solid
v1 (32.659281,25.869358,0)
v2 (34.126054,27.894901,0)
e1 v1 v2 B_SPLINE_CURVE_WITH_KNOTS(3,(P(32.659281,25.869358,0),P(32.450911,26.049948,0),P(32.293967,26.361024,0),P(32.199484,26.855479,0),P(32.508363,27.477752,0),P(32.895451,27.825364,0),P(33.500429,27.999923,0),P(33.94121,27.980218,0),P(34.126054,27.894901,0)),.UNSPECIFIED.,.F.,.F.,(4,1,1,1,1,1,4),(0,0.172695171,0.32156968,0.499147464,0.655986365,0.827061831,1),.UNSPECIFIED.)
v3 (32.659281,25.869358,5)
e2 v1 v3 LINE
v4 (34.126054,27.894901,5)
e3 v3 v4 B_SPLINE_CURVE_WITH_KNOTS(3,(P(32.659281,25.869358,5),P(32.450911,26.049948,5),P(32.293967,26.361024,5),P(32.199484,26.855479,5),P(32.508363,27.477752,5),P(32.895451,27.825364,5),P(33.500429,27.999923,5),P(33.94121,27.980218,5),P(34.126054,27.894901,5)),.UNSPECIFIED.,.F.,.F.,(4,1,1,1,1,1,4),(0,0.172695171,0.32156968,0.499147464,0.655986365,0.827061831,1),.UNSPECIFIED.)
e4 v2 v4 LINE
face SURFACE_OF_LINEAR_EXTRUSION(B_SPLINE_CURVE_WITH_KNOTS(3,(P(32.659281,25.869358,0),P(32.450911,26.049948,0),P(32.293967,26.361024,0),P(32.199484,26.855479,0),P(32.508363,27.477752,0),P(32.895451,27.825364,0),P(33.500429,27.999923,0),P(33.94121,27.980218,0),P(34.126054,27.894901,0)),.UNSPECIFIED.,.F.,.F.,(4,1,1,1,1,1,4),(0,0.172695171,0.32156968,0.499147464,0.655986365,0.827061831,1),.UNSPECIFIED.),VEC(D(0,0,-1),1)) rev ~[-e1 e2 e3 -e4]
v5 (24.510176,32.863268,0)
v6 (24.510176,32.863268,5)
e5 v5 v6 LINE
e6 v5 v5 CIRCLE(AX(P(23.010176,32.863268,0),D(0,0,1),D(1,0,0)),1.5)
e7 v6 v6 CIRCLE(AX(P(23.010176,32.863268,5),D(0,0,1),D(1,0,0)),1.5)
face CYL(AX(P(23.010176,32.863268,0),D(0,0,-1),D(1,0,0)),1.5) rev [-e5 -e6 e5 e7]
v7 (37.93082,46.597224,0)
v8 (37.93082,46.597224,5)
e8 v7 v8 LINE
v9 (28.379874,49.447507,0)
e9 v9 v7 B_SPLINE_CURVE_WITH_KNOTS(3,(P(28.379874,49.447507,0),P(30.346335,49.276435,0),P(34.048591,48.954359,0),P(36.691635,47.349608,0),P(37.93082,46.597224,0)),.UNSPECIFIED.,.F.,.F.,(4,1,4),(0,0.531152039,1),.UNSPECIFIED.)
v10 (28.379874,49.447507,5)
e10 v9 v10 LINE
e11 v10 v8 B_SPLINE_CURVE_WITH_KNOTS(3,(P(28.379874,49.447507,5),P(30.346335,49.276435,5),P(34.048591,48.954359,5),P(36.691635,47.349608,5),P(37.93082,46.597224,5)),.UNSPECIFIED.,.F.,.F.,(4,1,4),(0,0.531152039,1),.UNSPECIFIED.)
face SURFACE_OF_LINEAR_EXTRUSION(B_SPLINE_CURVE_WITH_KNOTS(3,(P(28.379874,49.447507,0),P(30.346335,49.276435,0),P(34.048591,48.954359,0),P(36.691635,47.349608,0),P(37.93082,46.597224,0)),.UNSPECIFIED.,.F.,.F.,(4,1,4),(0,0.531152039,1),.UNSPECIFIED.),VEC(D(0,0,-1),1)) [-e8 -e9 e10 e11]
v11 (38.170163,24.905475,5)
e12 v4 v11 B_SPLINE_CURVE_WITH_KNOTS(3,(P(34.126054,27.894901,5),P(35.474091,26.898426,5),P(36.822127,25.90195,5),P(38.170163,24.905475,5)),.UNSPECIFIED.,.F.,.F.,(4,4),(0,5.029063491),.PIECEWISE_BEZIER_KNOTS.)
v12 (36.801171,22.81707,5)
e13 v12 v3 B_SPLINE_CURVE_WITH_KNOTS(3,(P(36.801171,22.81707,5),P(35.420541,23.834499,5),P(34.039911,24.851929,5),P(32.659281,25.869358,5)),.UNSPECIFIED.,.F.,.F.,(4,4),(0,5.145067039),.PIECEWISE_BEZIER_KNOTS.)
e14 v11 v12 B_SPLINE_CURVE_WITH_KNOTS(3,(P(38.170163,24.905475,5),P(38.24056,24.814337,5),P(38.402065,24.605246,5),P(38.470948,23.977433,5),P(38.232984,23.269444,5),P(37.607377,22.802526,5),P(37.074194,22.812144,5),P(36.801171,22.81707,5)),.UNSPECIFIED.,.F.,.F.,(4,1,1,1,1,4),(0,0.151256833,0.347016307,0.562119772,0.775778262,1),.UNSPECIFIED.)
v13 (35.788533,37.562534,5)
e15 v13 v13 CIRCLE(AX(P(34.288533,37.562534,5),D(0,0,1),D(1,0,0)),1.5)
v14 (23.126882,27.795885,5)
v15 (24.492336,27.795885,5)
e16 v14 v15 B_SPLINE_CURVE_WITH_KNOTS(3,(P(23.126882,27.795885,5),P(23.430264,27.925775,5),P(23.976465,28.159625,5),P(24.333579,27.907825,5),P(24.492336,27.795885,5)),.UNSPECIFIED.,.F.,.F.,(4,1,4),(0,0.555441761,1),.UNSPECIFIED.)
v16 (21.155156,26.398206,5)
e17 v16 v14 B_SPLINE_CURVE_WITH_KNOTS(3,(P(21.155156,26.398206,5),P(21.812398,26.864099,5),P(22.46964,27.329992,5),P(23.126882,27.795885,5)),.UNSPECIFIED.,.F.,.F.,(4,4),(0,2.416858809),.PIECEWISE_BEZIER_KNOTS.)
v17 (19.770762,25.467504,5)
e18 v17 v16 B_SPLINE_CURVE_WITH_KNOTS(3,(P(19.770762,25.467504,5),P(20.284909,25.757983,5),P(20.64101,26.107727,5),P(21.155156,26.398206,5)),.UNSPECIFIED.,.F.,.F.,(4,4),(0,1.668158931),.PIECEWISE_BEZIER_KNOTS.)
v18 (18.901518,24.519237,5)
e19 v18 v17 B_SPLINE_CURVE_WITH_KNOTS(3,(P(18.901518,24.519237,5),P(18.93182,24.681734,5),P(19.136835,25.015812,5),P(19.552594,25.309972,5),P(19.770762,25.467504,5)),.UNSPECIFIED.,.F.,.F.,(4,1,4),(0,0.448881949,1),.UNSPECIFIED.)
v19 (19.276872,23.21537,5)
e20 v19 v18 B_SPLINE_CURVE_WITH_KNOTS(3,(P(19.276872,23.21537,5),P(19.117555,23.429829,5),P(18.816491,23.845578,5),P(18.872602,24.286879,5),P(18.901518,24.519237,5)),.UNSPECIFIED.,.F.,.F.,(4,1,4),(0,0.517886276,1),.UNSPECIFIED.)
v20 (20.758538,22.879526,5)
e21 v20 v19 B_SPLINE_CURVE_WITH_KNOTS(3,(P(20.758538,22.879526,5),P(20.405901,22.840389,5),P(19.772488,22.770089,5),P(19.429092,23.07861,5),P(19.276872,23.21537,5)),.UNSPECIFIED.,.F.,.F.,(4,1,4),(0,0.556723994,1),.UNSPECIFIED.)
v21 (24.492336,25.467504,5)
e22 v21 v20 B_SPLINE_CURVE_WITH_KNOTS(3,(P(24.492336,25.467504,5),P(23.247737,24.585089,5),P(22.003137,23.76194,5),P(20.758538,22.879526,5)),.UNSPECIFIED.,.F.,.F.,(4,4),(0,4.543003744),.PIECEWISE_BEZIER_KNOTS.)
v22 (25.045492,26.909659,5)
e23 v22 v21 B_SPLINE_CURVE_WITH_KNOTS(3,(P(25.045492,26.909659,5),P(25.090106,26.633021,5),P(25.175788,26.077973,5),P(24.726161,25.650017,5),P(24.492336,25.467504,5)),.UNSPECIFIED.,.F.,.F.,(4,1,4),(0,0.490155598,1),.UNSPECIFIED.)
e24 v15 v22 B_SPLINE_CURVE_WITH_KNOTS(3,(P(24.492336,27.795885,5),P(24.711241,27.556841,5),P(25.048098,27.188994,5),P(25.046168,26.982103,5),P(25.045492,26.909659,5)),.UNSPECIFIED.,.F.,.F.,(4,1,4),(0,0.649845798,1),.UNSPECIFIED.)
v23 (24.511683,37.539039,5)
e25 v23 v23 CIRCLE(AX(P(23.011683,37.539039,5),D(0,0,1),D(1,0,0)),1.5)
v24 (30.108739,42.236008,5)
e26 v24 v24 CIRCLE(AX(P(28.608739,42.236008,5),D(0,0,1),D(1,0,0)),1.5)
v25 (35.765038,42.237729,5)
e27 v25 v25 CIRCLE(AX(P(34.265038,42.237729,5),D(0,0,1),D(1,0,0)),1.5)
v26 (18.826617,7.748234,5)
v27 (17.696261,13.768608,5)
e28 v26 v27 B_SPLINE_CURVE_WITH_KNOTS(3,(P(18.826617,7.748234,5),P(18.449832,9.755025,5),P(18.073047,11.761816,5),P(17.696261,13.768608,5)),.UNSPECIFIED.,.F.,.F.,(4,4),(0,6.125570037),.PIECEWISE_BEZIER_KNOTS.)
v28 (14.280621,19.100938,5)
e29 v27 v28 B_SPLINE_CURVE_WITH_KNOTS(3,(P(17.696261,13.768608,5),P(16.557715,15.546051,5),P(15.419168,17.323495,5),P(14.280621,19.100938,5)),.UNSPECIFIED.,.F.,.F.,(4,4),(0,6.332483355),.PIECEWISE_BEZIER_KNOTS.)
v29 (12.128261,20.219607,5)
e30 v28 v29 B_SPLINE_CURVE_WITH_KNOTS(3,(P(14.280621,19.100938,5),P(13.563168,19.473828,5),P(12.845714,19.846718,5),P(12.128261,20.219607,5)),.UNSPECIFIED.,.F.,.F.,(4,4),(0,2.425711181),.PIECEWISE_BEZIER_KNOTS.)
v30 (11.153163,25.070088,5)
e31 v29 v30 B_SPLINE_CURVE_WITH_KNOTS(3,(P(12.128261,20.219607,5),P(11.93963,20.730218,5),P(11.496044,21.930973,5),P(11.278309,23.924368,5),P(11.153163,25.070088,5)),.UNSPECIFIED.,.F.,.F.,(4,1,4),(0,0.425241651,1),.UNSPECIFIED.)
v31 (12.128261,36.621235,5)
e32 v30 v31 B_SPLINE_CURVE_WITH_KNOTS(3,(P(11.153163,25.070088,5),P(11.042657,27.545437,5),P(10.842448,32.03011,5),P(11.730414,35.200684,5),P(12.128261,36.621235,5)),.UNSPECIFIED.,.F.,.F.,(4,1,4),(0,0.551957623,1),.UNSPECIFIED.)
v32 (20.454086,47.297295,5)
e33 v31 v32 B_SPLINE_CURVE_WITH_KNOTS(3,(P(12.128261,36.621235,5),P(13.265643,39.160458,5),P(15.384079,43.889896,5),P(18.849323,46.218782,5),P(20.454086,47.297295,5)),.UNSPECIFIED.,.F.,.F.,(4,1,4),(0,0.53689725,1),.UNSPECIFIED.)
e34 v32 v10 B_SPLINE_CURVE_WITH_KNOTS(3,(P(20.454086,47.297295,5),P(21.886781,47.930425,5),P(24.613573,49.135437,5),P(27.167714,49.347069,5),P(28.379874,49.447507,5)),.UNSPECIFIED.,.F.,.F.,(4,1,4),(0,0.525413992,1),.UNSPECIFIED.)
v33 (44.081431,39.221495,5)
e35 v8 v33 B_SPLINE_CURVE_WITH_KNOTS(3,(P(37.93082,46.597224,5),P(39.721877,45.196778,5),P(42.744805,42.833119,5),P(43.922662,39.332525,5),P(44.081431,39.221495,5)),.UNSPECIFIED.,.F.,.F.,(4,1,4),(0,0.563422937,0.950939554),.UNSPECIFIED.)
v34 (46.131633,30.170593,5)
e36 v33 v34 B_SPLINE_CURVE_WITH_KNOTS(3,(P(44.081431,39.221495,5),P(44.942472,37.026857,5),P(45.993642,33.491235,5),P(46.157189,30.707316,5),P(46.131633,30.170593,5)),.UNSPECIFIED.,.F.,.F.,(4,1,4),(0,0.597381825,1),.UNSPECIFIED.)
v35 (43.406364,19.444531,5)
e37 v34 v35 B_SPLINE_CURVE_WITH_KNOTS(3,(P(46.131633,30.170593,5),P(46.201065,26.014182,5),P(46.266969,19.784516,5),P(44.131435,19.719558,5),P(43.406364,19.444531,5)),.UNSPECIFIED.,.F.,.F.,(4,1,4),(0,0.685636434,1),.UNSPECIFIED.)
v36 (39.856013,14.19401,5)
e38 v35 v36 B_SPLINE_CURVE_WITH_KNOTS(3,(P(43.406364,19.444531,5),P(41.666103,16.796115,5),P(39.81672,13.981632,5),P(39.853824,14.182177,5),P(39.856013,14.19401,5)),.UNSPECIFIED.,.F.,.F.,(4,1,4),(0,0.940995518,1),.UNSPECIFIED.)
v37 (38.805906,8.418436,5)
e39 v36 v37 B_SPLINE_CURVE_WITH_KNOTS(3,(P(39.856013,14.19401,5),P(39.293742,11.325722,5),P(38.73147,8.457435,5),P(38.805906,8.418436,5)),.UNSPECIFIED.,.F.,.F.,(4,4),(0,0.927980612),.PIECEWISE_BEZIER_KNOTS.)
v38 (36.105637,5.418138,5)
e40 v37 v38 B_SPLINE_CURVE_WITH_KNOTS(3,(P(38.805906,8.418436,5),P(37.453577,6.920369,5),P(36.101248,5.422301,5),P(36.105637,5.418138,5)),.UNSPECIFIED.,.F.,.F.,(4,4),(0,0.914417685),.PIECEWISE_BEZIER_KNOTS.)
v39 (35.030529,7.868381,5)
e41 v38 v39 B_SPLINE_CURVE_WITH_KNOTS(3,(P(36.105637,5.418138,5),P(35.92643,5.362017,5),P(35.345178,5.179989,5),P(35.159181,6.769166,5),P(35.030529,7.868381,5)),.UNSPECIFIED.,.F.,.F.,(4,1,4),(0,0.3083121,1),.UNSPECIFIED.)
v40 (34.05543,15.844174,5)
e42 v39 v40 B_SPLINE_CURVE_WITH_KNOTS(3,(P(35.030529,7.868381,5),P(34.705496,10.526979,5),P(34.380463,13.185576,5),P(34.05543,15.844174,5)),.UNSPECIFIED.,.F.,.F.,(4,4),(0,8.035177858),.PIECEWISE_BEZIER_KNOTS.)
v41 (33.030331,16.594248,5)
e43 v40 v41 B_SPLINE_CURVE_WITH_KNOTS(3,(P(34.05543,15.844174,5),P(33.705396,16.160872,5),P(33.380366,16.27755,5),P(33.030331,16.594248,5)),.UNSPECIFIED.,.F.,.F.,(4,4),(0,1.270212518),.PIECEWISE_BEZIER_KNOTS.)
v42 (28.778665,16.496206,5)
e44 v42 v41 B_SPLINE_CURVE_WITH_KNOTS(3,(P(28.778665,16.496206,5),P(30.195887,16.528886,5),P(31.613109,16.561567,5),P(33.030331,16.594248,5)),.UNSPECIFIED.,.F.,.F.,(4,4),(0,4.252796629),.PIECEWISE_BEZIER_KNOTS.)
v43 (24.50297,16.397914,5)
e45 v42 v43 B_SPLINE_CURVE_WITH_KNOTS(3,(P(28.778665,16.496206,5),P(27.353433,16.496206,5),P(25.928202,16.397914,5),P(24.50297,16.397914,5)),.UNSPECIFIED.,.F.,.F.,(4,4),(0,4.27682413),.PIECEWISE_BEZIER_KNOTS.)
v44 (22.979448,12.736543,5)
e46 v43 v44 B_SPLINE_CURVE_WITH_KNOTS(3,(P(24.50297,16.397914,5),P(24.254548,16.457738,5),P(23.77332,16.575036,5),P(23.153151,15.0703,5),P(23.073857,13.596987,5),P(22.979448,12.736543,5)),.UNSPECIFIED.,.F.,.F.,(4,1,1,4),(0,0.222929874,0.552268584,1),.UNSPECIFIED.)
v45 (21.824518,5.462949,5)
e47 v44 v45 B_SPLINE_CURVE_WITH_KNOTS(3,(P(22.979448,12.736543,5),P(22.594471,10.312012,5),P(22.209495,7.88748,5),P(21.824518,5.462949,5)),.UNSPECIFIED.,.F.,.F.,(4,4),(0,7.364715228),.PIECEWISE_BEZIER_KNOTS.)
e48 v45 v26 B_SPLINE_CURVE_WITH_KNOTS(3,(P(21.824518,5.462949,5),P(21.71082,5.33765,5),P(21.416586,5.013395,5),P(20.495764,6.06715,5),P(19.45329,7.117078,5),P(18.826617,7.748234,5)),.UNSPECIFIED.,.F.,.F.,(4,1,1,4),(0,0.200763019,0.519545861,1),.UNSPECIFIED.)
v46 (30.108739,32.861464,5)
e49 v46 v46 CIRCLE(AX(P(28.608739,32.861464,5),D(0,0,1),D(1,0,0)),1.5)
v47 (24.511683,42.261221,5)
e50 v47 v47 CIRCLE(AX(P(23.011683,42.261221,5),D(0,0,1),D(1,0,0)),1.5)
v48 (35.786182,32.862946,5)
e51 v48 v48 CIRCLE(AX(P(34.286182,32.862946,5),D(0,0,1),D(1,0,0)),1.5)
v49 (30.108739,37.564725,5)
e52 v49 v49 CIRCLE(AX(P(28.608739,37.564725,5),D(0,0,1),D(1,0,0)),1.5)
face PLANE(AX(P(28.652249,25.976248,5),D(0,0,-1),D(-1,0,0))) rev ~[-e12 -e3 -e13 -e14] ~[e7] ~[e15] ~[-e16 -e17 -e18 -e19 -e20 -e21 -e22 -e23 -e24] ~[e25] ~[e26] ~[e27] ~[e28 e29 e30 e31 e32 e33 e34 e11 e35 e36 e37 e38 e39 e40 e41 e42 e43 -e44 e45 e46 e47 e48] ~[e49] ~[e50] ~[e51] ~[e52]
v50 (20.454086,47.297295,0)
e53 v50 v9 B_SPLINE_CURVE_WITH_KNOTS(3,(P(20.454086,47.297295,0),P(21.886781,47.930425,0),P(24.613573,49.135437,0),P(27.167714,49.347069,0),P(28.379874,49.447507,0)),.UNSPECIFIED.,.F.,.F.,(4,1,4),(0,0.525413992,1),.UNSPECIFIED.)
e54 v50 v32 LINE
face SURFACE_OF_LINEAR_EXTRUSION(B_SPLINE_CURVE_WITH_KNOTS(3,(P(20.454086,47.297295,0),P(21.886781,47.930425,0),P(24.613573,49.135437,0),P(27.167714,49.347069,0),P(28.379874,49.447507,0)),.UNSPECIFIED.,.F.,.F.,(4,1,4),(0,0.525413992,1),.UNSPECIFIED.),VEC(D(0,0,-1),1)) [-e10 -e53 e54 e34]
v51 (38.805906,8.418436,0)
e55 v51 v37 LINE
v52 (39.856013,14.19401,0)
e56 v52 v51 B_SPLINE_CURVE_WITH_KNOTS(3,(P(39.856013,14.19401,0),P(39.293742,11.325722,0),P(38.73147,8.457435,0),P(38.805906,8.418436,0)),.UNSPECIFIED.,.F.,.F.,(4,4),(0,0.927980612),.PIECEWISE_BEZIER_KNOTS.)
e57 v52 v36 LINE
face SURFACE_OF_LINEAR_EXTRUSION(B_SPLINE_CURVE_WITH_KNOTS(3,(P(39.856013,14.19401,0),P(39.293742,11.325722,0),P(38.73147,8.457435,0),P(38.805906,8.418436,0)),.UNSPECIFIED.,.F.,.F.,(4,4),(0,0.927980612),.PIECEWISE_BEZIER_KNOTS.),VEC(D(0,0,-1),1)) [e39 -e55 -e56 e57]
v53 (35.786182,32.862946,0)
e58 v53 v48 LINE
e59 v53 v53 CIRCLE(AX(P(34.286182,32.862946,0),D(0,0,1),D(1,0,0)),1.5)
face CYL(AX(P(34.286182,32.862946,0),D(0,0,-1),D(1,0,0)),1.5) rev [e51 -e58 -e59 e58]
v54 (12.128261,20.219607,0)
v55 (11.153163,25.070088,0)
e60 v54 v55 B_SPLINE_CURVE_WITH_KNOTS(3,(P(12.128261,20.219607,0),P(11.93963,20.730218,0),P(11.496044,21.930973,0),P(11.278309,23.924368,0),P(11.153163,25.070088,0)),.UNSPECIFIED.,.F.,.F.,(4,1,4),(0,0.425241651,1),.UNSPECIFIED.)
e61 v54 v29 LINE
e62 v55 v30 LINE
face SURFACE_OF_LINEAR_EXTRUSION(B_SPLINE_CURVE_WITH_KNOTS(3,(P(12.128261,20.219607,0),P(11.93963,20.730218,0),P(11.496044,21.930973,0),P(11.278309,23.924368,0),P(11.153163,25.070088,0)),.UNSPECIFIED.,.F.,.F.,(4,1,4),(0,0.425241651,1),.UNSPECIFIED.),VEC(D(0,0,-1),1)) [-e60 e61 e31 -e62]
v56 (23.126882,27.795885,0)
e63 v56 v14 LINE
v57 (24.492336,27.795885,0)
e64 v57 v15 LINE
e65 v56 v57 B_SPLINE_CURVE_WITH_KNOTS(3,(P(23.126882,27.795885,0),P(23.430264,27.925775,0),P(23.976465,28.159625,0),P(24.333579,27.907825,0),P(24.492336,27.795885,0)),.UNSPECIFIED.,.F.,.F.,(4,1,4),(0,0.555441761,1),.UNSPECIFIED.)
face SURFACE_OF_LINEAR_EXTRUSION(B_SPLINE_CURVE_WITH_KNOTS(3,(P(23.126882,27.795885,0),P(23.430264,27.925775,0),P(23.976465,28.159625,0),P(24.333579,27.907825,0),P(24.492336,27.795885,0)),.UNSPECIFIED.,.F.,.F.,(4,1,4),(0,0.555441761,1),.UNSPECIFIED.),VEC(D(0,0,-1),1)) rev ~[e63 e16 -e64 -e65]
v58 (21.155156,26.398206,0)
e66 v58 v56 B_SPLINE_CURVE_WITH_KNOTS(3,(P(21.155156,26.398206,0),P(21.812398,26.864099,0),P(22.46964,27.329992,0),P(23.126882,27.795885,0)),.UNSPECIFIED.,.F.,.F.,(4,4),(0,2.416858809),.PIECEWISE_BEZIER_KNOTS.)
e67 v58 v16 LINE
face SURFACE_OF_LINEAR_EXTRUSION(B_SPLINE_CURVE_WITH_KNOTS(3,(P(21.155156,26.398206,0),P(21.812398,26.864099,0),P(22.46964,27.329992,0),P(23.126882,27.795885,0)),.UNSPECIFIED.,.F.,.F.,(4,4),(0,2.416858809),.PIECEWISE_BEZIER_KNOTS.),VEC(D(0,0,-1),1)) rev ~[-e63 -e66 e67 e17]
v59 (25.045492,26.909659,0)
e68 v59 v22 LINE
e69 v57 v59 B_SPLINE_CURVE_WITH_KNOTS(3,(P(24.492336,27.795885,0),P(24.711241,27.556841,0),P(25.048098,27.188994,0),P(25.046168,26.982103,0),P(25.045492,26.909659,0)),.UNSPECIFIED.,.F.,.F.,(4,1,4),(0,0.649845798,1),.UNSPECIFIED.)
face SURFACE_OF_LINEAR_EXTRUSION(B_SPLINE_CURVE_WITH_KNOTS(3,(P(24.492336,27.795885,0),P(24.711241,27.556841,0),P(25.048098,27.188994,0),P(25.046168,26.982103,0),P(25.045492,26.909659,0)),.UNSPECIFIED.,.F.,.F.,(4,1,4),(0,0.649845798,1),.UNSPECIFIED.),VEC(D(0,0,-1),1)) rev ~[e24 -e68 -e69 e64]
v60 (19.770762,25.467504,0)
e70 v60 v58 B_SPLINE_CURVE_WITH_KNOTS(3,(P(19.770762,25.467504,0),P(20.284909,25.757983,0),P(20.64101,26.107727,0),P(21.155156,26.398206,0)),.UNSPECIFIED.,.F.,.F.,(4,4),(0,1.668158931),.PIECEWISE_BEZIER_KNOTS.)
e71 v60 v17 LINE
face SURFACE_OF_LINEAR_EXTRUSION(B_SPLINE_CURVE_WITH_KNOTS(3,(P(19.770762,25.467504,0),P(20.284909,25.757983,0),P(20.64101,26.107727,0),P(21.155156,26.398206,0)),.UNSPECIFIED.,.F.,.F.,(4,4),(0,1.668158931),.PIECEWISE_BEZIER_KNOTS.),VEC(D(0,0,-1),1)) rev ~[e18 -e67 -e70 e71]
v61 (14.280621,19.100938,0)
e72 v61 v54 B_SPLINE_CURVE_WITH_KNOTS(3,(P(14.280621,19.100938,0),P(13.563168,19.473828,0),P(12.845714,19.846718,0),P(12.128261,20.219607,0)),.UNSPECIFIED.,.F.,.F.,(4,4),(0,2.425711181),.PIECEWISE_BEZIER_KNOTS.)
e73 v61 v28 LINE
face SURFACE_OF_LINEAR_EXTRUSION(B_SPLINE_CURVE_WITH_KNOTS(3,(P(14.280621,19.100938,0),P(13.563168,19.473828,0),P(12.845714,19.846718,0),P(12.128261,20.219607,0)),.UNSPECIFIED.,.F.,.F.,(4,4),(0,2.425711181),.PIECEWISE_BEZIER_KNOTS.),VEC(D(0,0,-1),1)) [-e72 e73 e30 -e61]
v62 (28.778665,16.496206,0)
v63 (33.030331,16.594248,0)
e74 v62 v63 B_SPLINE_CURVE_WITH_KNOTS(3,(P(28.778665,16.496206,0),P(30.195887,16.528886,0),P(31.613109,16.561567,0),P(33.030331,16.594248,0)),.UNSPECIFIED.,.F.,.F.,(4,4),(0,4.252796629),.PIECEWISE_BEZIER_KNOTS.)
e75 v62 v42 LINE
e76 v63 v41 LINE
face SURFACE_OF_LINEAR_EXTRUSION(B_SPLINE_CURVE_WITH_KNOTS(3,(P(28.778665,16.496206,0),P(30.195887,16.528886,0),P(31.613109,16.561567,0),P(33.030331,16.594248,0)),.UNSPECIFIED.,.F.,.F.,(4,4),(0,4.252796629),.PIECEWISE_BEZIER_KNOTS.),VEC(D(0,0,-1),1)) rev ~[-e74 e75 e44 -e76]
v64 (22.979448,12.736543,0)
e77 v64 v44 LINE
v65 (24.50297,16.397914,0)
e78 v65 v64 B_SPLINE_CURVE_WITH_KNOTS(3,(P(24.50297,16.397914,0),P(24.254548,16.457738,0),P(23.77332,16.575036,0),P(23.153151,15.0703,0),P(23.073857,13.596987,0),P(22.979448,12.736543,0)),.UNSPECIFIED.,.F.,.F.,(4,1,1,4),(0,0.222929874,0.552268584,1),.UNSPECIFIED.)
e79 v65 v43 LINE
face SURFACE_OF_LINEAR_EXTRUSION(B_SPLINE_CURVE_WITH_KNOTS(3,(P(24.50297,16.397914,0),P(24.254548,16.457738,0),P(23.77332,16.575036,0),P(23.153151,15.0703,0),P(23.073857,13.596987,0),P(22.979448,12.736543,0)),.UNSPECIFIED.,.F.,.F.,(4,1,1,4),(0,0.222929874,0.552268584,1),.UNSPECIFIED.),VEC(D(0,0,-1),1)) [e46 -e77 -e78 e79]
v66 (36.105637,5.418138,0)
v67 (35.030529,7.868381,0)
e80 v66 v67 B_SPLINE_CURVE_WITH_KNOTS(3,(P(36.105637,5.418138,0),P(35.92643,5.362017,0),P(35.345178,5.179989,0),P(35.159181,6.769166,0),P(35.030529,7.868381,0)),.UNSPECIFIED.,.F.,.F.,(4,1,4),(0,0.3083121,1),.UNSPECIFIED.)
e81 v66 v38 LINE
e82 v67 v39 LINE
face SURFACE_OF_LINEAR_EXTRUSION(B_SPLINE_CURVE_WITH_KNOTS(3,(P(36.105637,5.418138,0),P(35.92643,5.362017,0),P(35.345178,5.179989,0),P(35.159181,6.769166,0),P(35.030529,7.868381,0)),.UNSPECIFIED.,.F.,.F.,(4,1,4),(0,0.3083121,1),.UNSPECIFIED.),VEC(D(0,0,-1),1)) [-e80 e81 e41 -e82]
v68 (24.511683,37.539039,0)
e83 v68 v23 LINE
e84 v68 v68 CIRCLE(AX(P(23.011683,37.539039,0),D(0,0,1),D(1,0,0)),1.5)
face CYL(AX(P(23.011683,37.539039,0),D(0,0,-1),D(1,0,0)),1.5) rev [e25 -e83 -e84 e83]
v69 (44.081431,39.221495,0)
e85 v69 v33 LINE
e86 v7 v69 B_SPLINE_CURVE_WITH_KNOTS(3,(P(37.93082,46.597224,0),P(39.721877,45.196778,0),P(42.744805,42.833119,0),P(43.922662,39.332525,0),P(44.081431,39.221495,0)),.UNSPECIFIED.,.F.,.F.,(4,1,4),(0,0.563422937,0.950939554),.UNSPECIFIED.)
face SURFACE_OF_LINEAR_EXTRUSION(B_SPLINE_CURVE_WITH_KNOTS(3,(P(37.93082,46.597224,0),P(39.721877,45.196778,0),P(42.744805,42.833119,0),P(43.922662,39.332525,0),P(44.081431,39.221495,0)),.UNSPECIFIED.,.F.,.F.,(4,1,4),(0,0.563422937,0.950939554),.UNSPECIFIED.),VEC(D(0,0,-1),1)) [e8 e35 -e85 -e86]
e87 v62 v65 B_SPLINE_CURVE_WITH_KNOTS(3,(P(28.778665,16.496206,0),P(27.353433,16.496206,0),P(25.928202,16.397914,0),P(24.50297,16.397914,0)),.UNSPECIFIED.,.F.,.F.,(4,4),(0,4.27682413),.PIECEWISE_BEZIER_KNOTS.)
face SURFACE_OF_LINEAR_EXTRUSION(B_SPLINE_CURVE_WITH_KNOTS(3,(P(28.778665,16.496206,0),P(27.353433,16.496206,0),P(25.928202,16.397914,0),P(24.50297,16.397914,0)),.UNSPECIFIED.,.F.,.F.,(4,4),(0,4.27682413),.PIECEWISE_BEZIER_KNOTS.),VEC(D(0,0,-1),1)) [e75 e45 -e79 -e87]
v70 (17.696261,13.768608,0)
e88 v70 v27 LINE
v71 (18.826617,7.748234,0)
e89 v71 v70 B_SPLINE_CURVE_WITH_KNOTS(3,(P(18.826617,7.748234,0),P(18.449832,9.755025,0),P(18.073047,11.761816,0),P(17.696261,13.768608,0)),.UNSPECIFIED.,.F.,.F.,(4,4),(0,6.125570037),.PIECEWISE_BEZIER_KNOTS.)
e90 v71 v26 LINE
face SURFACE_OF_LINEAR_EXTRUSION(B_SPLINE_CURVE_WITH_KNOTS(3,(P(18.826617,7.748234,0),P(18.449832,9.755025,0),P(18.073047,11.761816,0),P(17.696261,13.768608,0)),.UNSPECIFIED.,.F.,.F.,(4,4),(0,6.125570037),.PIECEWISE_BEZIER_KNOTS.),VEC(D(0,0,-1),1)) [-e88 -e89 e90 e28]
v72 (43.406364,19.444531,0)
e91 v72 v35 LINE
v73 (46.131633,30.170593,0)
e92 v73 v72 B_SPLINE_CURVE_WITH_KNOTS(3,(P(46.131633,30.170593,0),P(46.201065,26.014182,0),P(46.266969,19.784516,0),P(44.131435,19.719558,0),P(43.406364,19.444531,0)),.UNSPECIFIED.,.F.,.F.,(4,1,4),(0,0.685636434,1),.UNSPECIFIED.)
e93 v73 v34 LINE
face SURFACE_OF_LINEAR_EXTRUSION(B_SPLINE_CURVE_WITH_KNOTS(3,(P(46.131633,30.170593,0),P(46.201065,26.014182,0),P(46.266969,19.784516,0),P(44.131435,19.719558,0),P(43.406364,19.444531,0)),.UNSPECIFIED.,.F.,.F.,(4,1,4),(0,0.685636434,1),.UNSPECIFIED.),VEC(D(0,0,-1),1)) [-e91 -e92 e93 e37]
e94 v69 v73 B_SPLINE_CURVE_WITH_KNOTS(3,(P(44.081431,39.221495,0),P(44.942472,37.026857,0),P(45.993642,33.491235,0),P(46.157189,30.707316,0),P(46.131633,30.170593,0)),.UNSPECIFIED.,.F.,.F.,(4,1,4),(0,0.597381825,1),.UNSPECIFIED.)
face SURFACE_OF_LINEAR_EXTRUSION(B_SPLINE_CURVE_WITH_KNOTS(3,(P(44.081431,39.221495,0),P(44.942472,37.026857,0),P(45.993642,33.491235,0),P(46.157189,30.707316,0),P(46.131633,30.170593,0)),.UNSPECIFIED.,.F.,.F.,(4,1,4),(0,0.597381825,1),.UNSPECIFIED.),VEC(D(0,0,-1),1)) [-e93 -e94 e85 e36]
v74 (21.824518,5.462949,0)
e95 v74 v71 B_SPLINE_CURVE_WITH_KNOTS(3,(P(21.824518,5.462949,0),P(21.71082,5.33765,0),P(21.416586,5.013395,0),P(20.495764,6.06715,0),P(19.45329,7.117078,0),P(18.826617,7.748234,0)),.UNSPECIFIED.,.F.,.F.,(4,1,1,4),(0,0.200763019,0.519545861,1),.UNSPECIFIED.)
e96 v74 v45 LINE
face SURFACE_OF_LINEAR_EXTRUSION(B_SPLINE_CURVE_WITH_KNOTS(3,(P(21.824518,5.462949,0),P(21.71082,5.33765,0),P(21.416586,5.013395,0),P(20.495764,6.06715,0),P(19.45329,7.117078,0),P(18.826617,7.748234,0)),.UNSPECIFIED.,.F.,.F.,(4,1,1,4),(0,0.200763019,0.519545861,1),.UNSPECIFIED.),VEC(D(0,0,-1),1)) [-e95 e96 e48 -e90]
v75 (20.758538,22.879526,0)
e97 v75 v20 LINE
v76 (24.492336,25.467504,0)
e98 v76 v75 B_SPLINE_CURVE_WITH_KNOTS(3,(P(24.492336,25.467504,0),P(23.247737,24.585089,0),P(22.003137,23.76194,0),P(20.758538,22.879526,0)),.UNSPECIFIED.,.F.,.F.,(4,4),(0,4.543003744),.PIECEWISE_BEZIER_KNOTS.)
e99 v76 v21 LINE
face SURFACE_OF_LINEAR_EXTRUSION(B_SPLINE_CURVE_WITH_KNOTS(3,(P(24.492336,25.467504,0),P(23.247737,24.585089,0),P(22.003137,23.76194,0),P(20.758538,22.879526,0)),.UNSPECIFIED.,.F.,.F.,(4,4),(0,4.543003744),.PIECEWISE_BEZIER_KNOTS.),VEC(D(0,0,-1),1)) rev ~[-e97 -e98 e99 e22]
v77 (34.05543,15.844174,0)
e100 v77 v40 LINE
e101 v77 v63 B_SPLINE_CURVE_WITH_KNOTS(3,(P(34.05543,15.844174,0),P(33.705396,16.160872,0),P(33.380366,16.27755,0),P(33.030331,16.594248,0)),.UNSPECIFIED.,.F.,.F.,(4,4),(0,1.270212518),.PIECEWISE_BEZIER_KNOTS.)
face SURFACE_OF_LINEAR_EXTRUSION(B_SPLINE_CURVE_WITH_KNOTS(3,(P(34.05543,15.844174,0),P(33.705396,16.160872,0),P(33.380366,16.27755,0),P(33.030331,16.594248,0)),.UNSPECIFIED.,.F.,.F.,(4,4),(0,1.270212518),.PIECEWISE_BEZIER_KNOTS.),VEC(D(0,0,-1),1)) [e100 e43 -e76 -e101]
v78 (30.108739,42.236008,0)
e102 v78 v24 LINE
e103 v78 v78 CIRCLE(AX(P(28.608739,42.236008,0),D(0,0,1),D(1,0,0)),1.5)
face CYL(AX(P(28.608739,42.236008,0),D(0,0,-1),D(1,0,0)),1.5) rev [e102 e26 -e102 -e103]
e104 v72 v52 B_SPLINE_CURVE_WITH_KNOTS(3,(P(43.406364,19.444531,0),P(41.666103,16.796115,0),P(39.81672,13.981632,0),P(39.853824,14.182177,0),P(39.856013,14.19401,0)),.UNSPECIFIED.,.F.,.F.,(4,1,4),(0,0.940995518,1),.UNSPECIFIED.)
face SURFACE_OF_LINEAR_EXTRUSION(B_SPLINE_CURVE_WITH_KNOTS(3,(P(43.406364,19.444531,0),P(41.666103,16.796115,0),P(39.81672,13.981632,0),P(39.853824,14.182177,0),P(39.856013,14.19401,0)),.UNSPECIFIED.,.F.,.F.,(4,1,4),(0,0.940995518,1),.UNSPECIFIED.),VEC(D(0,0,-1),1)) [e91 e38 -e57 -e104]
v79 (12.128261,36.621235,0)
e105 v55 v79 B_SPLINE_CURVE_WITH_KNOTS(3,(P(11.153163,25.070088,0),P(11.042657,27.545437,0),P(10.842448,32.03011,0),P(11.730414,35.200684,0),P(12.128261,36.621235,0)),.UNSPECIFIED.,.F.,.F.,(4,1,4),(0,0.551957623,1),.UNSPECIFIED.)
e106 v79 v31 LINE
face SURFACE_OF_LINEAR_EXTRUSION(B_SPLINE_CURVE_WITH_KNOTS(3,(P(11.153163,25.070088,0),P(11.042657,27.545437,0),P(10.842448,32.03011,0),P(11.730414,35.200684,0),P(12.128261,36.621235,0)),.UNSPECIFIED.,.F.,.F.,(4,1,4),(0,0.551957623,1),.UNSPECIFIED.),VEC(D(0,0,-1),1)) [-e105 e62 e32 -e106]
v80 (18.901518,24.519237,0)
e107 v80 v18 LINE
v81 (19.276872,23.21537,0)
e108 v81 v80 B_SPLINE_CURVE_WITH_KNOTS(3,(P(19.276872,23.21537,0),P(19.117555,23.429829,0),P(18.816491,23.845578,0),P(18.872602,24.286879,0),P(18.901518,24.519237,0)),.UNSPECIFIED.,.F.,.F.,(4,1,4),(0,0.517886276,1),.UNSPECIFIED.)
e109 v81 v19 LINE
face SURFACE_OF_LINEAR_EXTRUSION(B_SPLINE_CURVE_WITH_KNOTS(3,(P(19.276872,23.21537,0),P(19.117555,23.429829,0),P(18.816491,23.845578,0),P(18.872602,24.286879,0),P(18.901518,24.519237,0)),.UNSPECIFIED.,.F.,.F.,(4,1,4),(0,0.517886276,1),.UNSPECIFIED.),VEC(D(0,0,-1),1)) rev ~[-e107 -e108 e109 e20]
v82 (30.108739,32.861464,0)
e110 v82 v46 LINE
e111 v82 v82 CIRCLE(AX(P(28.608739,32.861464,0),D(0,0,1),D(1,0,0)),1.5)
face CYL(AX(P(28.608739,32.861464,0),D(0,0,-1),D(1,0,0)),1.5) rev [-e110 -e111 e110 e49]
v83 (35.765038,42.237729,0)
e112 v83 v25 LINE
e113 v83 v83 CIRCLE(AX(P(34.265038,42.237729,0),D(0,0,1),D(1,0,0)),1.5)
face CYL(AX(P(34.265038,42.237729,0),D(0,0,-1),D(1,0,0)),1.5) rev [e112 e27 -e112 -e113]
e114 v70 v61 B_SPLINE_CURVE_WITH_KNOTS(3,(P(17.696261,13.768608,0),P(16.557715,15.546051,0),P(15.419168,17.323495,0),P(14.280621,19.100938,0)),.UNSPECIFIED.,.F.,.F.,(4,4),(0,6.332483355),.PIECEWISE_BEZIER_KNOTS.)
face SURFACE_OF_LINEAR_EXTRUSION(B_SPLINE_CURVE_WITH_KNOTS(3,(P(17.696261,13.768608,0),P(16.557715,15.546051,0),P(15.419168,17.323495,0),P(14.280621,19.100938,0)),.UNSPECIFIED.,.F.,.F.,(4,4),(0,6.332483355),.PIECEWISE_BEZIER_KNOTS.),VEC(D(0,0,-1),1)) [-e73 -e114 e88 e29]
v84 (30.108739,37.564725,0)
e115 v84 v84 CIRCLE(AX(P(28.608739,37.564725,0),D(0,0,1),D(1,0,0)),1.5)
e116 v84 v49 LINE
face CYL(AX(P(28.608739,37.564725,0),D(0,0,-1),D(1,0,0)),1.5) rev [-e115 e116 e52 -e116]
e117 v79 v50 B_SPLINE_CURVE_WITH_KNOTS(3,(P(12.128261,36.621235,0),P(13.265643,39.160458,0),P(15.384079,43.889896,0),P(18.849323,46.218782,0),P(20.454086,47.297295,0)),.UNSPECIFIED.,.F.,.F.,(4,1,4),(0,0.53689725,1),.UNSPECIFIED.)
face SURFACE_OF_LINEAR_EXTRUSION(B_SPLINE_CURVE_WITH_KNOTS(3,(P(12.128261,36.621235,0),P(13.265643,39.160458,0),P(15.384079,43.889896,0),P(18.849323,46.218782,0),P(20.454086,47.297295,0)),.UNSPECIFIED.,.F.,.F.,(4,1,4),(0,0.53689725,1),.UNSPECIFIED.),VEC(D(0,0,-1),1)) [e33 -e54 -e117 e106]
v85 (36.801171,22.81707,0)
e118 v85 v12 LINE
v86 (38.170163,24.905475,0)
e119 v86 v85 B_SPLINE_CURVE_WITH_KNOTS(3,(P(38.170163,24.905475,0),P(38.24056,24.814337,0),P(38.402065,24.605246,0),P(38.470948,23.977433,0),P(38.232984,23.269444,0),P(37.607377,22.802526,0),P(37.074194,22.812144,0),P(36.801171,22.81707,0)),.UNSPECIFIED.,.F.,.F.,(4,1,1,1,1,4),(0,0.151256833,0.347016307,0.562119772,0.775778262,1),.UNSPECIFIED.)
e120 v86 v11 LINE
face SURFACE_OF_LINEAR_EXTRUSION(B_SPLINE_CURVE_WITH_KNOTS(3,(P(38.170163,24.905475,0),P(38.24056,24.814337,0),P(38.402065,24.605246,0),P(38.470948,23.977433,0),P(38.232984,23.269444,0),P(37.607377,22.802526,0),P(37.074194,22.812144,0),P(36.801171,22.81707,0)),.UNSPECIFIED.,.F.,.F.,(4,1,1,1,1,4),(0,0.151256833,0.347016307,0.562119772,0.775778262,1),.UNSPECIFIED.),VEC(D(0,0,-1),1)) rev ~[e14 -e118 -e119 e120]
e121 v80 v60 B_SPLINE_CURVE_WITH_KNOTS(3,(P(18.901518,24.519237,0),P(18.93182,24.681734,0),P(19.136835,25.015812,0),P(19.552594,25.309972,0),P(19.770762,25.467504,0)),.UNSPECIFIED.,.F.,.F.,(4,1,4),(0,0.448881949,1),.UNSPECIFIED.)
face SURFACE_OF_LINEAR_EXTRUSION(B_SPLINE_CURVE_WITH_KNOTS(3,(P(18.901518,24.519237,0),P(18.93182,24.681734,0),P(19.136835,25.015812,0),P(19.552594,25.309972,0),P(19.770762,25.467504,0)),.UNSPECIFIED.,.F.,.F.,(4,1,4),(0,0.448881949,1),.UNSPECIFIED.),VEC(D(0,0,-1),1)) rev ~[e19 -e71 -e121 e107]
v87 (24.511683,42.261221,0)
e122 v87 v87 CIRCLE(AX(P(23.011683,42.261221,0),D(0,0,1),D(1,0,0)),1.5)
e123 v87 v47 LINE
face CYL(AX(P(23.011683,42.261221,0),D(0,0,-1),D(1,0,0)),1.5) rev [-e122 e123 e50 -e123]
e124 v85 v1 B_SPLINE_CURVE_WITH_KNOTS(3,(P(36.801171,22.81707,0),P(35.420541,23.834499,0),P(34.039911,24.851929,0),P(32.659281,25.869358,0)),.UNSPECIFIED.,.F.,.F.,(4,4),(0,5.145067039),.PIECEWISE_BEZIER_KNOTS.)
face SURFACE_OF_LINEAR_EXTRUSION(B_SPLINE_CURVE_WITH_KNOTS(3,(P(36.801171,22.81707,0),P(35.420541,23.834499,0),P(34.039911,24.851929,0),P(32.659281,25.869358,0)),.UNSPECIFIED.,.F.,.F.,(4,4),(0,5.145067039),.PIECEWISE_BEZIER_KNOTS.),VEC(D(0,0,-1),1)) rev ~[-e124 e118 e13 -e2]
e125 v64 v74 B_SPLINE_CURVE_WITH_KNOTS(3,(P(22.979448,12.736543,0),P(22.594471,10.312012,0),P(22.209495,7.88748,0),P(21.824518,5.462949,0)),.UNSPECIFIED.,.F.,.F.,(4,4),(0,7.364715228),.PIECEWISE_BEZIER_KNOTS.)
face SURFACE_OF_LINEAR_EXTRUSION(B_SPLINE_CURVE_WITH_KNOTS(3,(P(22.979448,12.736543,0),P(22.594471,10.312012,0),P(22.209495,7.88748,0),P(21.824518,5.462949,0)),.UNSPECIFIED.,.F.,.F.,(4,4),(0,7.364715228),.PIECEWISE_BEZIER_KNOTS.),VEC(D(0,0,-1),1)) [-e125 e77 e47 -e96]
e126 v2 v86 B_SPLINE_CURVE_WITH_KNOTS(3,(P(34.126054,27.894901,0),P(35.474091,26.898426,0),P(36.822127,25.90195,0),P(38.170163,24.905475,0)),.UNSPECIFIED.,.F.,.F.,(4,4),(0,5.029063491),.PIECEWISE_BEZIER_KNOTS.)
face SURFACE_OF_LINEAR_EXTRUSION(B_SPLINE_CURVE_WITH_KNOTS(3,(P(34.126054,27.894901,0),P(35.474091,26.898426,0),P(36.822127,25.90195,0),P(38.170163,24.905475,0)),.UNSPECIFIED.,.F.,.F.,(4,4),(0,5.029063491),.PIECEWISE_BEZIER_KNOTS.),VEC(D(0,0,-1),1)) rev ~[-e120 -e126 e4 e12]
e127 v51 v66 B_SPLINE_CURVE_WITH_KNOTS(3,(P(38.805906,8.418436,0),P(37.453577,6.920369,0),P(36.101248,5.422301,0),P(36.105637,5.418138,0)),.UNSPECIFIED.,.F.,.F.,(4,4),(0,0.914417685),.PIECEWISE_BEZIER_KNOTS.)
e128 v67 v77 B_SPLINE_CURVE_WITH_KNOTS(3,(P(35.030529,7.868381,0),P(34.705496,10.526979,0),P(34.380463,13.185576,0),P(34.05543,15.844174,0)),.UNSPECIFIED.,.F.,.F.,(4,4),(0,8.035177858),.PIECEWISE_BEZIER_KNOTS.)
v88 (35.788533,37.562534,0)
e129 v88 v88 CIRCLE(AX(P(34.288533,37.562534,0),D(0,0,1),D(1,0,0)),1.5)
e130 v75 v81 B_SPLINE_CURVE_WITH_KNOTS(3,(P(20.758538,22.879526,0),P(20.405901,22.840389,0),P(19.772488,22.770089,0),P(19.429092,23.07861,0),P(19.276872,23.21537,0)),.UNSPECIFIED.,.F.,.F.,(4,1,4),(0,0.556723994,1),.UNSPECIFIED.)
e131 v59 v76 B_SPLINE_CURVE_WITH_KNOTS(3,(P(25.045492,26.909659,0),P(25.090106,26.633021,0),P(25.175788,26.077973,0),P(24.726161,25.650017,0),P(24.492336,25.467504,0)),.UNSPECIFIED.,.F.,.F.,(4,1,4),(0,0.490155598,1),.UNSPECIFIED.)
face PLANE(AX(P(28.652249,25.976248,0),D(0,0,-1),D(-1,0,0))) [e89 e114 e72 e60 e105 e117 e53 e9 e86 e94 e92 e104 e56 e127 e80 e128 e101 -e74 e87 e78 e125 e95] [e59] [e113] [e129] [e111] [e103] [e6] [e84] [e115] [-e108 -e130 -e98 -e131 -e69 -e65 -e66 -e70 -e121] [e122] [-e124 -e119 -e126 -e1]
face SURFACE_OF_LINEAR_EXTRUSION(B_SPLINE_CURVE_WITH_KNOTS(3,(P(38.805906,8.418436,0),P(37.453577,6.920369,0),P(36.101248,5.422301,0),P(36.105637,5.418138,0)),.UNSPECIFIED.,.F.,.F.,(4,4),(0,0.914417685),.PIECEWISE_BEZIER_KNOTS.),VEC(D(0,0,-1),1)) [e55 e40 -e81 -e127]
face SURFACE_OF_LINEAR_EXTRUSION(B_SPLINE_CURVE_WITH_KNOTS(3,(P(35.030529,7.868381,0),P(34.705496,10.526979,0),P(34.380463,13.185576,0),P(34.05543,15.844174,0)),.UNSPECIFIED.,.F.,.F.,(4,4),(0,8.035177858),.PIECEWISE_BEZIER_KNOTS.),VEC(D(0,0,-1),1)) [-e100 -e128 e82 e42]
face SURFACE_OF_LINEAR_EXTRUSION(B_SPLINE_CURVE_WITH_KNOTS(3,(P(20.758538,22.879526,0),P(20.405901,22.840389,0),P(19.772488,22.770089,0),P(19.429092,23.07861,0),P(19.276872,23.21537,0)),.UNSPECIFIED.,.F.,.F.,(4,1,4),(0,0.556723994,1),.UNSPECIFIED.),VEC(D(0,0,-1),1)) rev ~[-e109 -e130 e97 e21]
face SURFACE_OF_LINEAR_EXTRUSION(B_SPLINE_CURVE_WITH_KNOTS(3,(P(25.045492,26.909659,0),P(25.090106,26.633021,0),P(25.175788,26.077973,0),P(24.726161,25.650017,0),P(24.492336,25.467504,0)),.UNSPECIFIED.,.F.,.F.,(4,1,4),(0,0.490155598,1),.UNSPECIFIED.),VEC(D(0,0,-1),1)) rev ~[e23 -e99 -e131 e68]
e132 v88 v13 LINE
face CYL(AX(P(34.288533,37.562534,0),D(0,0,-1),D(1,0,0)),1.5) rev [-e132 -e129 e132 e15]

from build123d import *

# Parameters (mm, degrees)
F2_DEPTH = 5
F1_R     = 1.5
F3_DEPTH = 5


with BuildPart() as f2:
    # F0 (on Top) → F2 (new body)
    with BuildSketch(Plane.XY):
        with BuildLine():
            add(Edge.make_bspline(
                [(28.7786647677, 16.4962057024), (27.3534332712, 16.4962057024), (25.9282017748, 16.3979139179), (24.5029702783, 16.3979139179)],
                knots=[0, 0, 0, 0, 4.2768241304, 4.2768241304, 4.2768241304, 4.2768241304], degree=3))
            add(Edge.make_bspline(
                [(28.7786647677, 16.4962057024), (30.1958868901, 16.5288864324), (31.6131090124, 16.5615671625), (33.0303311348, 16.5942478925)],
                knots=[0, 0, 0, 0, 4.252796629, 4.252796629, 4.252796629, 4.252796629], degree=3))
            add(Edge.make_bspline(
                [(34.0554304421, 15.8441737294), (33.7053959568, 16.1608718336), (33.3803656201, 16.2775497884), (33.0303311348, 16.5942478925)],
                knots=[0, 0, 0, 0, 1.2702125176, 1.2702125176, 1.2702125176, 1.2702125176], degree=3))
            add(Edge.make_bspline(
                [(35.030528903, 7.8683812171), (34.7054960827, 10.5269787212), (34.3804632624, 13.1855762253), (34.0554304421, 15.8441737294)],
                knots=[0, 0, 0, 0, 8.0351778579, 8.0351778579, 8.0351778579, 8.0351778579], degree=3))
            add(Edge.make_bspline(
                [(36.1056365073, 5.4181381129), (35.9264295305, 5.3620166626), (35.3451776861, 5.1799886127), (35.15918074, 6.7691662645), (35.030528903, 7.8683812171)],
                knots=[0, 0, 0, 0, 0.3083121001, 1, 1, 1, 1], degree=3))
            add(Edge.make_bspline(
                [(38.8059057295, 8.4184361622), (37.4535769802, 6.9203687349), (36.1012482309, 5.4223013077), (36.1056365073, 5.4181381129)],
                knots=[0, 0, 0, 0, 0.9144176852, 0.9144176852, 0.9144176852, 0.9144176852], degree=3))
            add(Edge.make_bspline(
                [(39.8560129106, 14.1940098256), (39.2937416175, 11.3257224468), (38.7314703243, 8.4574350679), (38.8059057295, 8.4184361622)],
                knots=[0, 0, 0, 0, 0.9279806118, 0.9279806118, 0.9279806118, 0.9279806118], degree=3))
            add(Edge.make_bspline(
                [(43.4063635767, 19.4445308298), (41.6661026772, 16.796114764), (39.8167199055, 13.9816315759), (39.8538236249, 14.1821767609), (39.8560129106, 14.1940098256)],
                knots=[0, 0, 0, 0, 0.9409955181, 1, 1, 1, 1], degree=3))
            add(Edge.make_bspline(
                [(46.1316332221, 30.1705934107), (46.201065216, 26.0141822855), (46.2669693032, 19.7845163706), (44.1314354539, 19.7195578367), (43.4063635767, 19.4445308298)],
                knots=[0, 0, 0, 0, 0.6856364339, 1, 1, 1, 1], degree=3))
            add(Edge.make_bspline(
                [(44.0814308822, 39.2214953899), (44.942471716, 37.026856873), (45.9936424251, 33.4912353698), (46.1571893395, 30.7073156698), (46.1316332221, 30.1705934107)],
                knots=[0, 0, 0, 0, 0.5973818248, 1, 1, 1, 1], degree=3))
            add(Edge.make_bspline(
                [(37.9308201373, 46.5972237289), (39.7218772443, 45.1967775697), (42.7448053753, 42.833118659), (43.922661607, 39.3325250293), (44.0814308822, 39.2214953899)],
                knots=[0, 0, 0, 0, 0.5634229372, 0.9509395541, 0.9509395541, 0.9509395541, 0.9509395541], degree=3))
            add(Edge.make_bspline(
                [(28.3798743039, 49.4475066662), (30.3463351664, 49.2764352977), (34.0485912428, 48.954359214), (36.6916346322, 47.3496080436), (37.9308201373, 46.5972237289)],
                knots=[0, 0, 0, 0, 0.5311520386, 1, 1, 1, 1], degree=3))
            add(Edge.make_bspline(
                [(20.4540863633, 47.2972951829), (21.8867810289, 47.9304252414), (24.6135730188, 49.1354370372), (27.1677144968, 49.3470690664), (28.3798743039, 49.4475066662)],
                knots=[0, 0, 0, 0, 0.5254139923, 1, 1, 1, 1], degree=3))
            add(Edge.make_bspline(
                [(12.128260918, 36.621235311), (13.2656434176, 39.1604577253), (15.3840794859, 43.8898960188), (18.8493227012, 46.2187817818), (20.4540863633, 47.2972951829)],
                knots=[0, 0, 0, 0, 0.5368972501, 1, 1, 1, 1], degree=3))
            add(Edge.make_bspline(
                [(11.1531633884, 25.0700879842), (11.0426565419, 27.5454372876), (10.8424476096, 32.0301100206), (11.730414239, 35.2006838689), (12.128260918, 36.621235311)],
                knots=[0, 0, 0, 0, 0.5519576234, 1, 1, 1, 1], degree=3))
            add(Edge.make_bspline(
                [(12.128260918, 20.2196072787), (11.9396298399, 20.7302181813), (11.4960442281, 21.93097286), (11.2783087006, 23.9243676733), (11.1531633884, 25.0700879842)],
                knots=[0, 0, 0, 0, 0.4252416515, 1, 1, 1, 1], degree=3))
            add(Edge.make_bspline(
                [(14.2806209624, 19.1009379923), (13.5631676142, 19.4738277545), (12.8457142661, 19.8467175166), (12.128260918, 20.2196072787)],
                knots=[0, 0, 0, 0, 2.4257111809, 2.4257111809, 2.4257111809, 2.4257111809], degree=3))
            add(Edge.make_bspline(
                [(17.6962614059, 13.7686077505), (16.5577145914, 15.5460511645), (15.4191677769, 17.3234945784), (14.2806209624, 19.1009379923)],
                knots=[0, 0, 0, 0, 6.3324833555, 6.3324833555, 6.3324833555, 6.3324833555], degree=3))
            add(Edge.make_bspline(
                [(18.826616928, 7.7482336201), (18.449831754, 9.7550249969), (18.07304658, 11.7618163737), (17.6962614059, 13.7686077505)],
                knots=[0, 0, 0, 0, 6.1255700369, 6.1255700369, 6.1255700369, 6.1255700369], degree=3))
            add(Edge.make_bspline(
                [(21.8245182186, 5.4629491642), (21.7108202341, 5.3376502894), (21.4165861788, 5.0133947963), (20.4957638936, 6.0671498654), (19.4532904711, 7.1170784645), (18.826616928, 7.7482336201)],
                knots=[0, 0, 0, 0, 0.2007630192, 0.5195458611, 1, 1, 1, 1], degree=3))
            add(Edge.make_bspline(
                [(22.9794476181, 12.7365430817), (22.5944711516, 10.3120117759), (22.2094946851, 7.88748047), (21.8245182186, 5.4629491642)],
                knots=[0, 0, 0, 0, 7.3647152283, 7.3647152283, 7.3647152283, 7.3647152283], degree=3))
            add(Edge.make_bspline(
                [(24.5029702783, 16.3979139179), (24.2545480757, 16.457738394), (23.7733196994, 16.5750358032), (23.1531511766, 15.0702995523), (23.0738569515, 13.5969865217), (22.9794476181, 12.7365430817)],
                knots=[0, 0, 0, 0, 0.2229298737, 0.552268584, 1, 1, 1, 1], degree=3))
        make_face()
        with BuildLine():
            add(Edge.make_bspline(
                [(19.7707619518, 25.4675038159), (20.2849085132, 25.757982706), (20.6410096337, 26.1077272395), (21.1551561952, 26.3982061297)],
                knots=[0, 0, 0, 0, 1.6681589307, 1.6681589307, 1.6681589307, 1.6681589307], degree=3))
            add(Edge.make_bspline(
                [(21.1551561952, 26.3982061297), (21.8123979867, 26.8640990059), (22.4696397781, 27.329991882), (23.1268815696, 27.7958847582)],
                knots=[0, 0, 0, 0, 2.4168588087, 2.4168588087, 2.4168588087, 2.4168588087], degree=3))
            add(Edge.make_bspline(
                [(23.1268815696, 27.7958847582), (23.4302642999, 27.9257749489), (23.9764650926, 28.1596251916), (24.333578659, 27.9078247286), (24.4923364371, 27.7958847582)],
                knots=[0, 0, 0, 0, 0.5554417612, 1, 1, 1, 1], degree=3))
            add(Edge.make_bspline(
                [(24.4923364371, 27.7958847582), (24.7112412104, 27.5568410681), (25.0480976986, 27.1889942788), (25.0461675905, 26.9821026564), (25.045491755, 26.9096586853)],
                knots=[0, 0, 0, 0, 0.6498457975, 1, 1, 1, 1], degree=3))
            add(Edge.make_bspline(
                [(25.045491755, 26.9096586853), (25.0901061339, 26.6330206678), (25.1757880791, 26.0779728274), (24.7261609493, 25.6500168981), (24.4923364371, 25.4675038159)],
                knots=[0, 0, 0, 0, 0.4901555982, 1, 1, 1, 1], degree=3))
            add(Edge.make_bspline(
                [(24.4923364371, 25.4675038159), (23.2477368166, 24.5850893358), (22.0031371961, 23.7619404991), (20.7585375756, 22.8795260191)],
                knots=[0, 0, 0, 0, 4.5430037437, 4.5430037437, 4.5430037437, 4.5430037437], degree=3))
            add(Edge.make_bspline(
                [(20.7585375756, 22.8795260191), (20.405901409, 22.8403885896), (19.7724884957, 22.7700890696), (19.4290917953, 23.0786102264), (19.2768722773, 23.2153702527)],
                knots=[0, 0, 0, 0, 0.5567239935, 1, 1, 1, 1], degree=3))
            add(Edge.make_bspline(
                [(19.2768722773, 23.2153702527), (19.1175545535, 23.4298293637), (18.8164909813, 23.845577707), (18.8726020293, 24.2868788492), (18.9015176147, 24.5192367584)],
                knots=[0, 0, 0, 0, 0.5178862764, 1, 1, 1, 1], degree=3))
            add(Edge.make_bspline(
                [(18.9015176147, 24.5192367584), (18.9318202689, 24.6817342211), (19.1368350812, 25.0158121965), (19.5525943822, 25.3099724303), (19.7707619518, 25.4675038159)],
                knots=[0, 0, 0, 0, 0.4488819495, 1, 1, 1, 1], degree=3))
        make_face(mode=Mode.SUBTRACT)
        with BuildLine():
            add(Edge.make_bspline(
                [(32.6592810452, 25.869358331), (32.4509113562, 26.0499476175), (32.2939669471, 26.3610240009), (32.1994835702, 26.8554791141), (32.5083631343, 27.4777518027), (32.8954510162, 27.8253639918), (33.5004289129, 27.9999233062), (33.9412095353, 27.9802175247), (34.1260544956, 27.8949011117)],
                knots=[0, 0, 0, 0, 0.1726951713, 0.3215696796, 0.4991474643, 0.6559863652, 0.8270618313, 1, 1, 1, 1], degree=3))
            add(Edge.make_bspline(
                [(34.1260544956, 27.8949011117), (35.4740905265, 26.8984256933), (36.8221265574, 25.9019502749), (38.1701625884, 24.9054748565)],
                knots=[0, 0, 0, 0, 5.0290634915, 5.0290634915, 5.0290634915, 5.0290634915], degree=3))
            add(Edge.make_bspline(
                [(38.1701625884, 24.9054748565), (38.2405595194, 24.8143368767), (38.4020654987, 24.6052463887), (38.470948132, 23.977433478), (38.2329838854, 23.2694437637), (37.6073773996, 22.8025261291), (37.0741936096, 22.8121444764), (36.8011705577, 22.8170696646)],
                knots=[0, 0, 0, 0, 0.1512568335, 0.3470163066, 0.5621197723, 0.7757782618, 1, 1, 1, 1], degree=3))
            add(Edge.make_bspline(
                [(36.8011705577, 22.8170696646), (35.4205407202, 23.8344992201), (34.0399108827, 24.8519287755), (32.6592810452, 25.869358331)],
                knots=[0, 0, 0, 0, 5.1450670391, 5.1450670391, 5.1450670391, 5.1450670391], degree=3))
        make_face(mode=Mode.SUBTRACT)
    extrude(amount=F2_DEPTH)

    # F1 (on face) → F3 (cut)
    with BuildSketch(Plane.XY):
        with Locations((23.01017569, 32.86326798)):
            Circle(F1_R)
        with Locations((-15598.762805792, 35.025678575)):
            Circle(F1_R)
        with Locations((34.2861823738, 32.8629463911)):
            Circle(F1_R)
        with Locations((23.0116825551, 37.5390388072)):
            Circle(F1_R)
        with Locations((28.6087393761, 37.5647246838)):
            Circle(F1_R)
        with Locations((34.2885330319, 37.5625342131)):
            Circle(F1_R)
        with Locations((23.0116825551, 42.2612205148)):
            Circle(F1_R)
        with Locations((28.6087393761, 42.23600775)):
            Circle(F1_R)
        with Locations((34.265037626, 42.2377288342)):
            Circle(F1_R)
        with Locations((28.6087393761, 32.8614637256)):
            Circle(F1_R)
    extrude(amount=F3_DEPTH, mode=Mode.SUBTRACT)


solid = f2.part
